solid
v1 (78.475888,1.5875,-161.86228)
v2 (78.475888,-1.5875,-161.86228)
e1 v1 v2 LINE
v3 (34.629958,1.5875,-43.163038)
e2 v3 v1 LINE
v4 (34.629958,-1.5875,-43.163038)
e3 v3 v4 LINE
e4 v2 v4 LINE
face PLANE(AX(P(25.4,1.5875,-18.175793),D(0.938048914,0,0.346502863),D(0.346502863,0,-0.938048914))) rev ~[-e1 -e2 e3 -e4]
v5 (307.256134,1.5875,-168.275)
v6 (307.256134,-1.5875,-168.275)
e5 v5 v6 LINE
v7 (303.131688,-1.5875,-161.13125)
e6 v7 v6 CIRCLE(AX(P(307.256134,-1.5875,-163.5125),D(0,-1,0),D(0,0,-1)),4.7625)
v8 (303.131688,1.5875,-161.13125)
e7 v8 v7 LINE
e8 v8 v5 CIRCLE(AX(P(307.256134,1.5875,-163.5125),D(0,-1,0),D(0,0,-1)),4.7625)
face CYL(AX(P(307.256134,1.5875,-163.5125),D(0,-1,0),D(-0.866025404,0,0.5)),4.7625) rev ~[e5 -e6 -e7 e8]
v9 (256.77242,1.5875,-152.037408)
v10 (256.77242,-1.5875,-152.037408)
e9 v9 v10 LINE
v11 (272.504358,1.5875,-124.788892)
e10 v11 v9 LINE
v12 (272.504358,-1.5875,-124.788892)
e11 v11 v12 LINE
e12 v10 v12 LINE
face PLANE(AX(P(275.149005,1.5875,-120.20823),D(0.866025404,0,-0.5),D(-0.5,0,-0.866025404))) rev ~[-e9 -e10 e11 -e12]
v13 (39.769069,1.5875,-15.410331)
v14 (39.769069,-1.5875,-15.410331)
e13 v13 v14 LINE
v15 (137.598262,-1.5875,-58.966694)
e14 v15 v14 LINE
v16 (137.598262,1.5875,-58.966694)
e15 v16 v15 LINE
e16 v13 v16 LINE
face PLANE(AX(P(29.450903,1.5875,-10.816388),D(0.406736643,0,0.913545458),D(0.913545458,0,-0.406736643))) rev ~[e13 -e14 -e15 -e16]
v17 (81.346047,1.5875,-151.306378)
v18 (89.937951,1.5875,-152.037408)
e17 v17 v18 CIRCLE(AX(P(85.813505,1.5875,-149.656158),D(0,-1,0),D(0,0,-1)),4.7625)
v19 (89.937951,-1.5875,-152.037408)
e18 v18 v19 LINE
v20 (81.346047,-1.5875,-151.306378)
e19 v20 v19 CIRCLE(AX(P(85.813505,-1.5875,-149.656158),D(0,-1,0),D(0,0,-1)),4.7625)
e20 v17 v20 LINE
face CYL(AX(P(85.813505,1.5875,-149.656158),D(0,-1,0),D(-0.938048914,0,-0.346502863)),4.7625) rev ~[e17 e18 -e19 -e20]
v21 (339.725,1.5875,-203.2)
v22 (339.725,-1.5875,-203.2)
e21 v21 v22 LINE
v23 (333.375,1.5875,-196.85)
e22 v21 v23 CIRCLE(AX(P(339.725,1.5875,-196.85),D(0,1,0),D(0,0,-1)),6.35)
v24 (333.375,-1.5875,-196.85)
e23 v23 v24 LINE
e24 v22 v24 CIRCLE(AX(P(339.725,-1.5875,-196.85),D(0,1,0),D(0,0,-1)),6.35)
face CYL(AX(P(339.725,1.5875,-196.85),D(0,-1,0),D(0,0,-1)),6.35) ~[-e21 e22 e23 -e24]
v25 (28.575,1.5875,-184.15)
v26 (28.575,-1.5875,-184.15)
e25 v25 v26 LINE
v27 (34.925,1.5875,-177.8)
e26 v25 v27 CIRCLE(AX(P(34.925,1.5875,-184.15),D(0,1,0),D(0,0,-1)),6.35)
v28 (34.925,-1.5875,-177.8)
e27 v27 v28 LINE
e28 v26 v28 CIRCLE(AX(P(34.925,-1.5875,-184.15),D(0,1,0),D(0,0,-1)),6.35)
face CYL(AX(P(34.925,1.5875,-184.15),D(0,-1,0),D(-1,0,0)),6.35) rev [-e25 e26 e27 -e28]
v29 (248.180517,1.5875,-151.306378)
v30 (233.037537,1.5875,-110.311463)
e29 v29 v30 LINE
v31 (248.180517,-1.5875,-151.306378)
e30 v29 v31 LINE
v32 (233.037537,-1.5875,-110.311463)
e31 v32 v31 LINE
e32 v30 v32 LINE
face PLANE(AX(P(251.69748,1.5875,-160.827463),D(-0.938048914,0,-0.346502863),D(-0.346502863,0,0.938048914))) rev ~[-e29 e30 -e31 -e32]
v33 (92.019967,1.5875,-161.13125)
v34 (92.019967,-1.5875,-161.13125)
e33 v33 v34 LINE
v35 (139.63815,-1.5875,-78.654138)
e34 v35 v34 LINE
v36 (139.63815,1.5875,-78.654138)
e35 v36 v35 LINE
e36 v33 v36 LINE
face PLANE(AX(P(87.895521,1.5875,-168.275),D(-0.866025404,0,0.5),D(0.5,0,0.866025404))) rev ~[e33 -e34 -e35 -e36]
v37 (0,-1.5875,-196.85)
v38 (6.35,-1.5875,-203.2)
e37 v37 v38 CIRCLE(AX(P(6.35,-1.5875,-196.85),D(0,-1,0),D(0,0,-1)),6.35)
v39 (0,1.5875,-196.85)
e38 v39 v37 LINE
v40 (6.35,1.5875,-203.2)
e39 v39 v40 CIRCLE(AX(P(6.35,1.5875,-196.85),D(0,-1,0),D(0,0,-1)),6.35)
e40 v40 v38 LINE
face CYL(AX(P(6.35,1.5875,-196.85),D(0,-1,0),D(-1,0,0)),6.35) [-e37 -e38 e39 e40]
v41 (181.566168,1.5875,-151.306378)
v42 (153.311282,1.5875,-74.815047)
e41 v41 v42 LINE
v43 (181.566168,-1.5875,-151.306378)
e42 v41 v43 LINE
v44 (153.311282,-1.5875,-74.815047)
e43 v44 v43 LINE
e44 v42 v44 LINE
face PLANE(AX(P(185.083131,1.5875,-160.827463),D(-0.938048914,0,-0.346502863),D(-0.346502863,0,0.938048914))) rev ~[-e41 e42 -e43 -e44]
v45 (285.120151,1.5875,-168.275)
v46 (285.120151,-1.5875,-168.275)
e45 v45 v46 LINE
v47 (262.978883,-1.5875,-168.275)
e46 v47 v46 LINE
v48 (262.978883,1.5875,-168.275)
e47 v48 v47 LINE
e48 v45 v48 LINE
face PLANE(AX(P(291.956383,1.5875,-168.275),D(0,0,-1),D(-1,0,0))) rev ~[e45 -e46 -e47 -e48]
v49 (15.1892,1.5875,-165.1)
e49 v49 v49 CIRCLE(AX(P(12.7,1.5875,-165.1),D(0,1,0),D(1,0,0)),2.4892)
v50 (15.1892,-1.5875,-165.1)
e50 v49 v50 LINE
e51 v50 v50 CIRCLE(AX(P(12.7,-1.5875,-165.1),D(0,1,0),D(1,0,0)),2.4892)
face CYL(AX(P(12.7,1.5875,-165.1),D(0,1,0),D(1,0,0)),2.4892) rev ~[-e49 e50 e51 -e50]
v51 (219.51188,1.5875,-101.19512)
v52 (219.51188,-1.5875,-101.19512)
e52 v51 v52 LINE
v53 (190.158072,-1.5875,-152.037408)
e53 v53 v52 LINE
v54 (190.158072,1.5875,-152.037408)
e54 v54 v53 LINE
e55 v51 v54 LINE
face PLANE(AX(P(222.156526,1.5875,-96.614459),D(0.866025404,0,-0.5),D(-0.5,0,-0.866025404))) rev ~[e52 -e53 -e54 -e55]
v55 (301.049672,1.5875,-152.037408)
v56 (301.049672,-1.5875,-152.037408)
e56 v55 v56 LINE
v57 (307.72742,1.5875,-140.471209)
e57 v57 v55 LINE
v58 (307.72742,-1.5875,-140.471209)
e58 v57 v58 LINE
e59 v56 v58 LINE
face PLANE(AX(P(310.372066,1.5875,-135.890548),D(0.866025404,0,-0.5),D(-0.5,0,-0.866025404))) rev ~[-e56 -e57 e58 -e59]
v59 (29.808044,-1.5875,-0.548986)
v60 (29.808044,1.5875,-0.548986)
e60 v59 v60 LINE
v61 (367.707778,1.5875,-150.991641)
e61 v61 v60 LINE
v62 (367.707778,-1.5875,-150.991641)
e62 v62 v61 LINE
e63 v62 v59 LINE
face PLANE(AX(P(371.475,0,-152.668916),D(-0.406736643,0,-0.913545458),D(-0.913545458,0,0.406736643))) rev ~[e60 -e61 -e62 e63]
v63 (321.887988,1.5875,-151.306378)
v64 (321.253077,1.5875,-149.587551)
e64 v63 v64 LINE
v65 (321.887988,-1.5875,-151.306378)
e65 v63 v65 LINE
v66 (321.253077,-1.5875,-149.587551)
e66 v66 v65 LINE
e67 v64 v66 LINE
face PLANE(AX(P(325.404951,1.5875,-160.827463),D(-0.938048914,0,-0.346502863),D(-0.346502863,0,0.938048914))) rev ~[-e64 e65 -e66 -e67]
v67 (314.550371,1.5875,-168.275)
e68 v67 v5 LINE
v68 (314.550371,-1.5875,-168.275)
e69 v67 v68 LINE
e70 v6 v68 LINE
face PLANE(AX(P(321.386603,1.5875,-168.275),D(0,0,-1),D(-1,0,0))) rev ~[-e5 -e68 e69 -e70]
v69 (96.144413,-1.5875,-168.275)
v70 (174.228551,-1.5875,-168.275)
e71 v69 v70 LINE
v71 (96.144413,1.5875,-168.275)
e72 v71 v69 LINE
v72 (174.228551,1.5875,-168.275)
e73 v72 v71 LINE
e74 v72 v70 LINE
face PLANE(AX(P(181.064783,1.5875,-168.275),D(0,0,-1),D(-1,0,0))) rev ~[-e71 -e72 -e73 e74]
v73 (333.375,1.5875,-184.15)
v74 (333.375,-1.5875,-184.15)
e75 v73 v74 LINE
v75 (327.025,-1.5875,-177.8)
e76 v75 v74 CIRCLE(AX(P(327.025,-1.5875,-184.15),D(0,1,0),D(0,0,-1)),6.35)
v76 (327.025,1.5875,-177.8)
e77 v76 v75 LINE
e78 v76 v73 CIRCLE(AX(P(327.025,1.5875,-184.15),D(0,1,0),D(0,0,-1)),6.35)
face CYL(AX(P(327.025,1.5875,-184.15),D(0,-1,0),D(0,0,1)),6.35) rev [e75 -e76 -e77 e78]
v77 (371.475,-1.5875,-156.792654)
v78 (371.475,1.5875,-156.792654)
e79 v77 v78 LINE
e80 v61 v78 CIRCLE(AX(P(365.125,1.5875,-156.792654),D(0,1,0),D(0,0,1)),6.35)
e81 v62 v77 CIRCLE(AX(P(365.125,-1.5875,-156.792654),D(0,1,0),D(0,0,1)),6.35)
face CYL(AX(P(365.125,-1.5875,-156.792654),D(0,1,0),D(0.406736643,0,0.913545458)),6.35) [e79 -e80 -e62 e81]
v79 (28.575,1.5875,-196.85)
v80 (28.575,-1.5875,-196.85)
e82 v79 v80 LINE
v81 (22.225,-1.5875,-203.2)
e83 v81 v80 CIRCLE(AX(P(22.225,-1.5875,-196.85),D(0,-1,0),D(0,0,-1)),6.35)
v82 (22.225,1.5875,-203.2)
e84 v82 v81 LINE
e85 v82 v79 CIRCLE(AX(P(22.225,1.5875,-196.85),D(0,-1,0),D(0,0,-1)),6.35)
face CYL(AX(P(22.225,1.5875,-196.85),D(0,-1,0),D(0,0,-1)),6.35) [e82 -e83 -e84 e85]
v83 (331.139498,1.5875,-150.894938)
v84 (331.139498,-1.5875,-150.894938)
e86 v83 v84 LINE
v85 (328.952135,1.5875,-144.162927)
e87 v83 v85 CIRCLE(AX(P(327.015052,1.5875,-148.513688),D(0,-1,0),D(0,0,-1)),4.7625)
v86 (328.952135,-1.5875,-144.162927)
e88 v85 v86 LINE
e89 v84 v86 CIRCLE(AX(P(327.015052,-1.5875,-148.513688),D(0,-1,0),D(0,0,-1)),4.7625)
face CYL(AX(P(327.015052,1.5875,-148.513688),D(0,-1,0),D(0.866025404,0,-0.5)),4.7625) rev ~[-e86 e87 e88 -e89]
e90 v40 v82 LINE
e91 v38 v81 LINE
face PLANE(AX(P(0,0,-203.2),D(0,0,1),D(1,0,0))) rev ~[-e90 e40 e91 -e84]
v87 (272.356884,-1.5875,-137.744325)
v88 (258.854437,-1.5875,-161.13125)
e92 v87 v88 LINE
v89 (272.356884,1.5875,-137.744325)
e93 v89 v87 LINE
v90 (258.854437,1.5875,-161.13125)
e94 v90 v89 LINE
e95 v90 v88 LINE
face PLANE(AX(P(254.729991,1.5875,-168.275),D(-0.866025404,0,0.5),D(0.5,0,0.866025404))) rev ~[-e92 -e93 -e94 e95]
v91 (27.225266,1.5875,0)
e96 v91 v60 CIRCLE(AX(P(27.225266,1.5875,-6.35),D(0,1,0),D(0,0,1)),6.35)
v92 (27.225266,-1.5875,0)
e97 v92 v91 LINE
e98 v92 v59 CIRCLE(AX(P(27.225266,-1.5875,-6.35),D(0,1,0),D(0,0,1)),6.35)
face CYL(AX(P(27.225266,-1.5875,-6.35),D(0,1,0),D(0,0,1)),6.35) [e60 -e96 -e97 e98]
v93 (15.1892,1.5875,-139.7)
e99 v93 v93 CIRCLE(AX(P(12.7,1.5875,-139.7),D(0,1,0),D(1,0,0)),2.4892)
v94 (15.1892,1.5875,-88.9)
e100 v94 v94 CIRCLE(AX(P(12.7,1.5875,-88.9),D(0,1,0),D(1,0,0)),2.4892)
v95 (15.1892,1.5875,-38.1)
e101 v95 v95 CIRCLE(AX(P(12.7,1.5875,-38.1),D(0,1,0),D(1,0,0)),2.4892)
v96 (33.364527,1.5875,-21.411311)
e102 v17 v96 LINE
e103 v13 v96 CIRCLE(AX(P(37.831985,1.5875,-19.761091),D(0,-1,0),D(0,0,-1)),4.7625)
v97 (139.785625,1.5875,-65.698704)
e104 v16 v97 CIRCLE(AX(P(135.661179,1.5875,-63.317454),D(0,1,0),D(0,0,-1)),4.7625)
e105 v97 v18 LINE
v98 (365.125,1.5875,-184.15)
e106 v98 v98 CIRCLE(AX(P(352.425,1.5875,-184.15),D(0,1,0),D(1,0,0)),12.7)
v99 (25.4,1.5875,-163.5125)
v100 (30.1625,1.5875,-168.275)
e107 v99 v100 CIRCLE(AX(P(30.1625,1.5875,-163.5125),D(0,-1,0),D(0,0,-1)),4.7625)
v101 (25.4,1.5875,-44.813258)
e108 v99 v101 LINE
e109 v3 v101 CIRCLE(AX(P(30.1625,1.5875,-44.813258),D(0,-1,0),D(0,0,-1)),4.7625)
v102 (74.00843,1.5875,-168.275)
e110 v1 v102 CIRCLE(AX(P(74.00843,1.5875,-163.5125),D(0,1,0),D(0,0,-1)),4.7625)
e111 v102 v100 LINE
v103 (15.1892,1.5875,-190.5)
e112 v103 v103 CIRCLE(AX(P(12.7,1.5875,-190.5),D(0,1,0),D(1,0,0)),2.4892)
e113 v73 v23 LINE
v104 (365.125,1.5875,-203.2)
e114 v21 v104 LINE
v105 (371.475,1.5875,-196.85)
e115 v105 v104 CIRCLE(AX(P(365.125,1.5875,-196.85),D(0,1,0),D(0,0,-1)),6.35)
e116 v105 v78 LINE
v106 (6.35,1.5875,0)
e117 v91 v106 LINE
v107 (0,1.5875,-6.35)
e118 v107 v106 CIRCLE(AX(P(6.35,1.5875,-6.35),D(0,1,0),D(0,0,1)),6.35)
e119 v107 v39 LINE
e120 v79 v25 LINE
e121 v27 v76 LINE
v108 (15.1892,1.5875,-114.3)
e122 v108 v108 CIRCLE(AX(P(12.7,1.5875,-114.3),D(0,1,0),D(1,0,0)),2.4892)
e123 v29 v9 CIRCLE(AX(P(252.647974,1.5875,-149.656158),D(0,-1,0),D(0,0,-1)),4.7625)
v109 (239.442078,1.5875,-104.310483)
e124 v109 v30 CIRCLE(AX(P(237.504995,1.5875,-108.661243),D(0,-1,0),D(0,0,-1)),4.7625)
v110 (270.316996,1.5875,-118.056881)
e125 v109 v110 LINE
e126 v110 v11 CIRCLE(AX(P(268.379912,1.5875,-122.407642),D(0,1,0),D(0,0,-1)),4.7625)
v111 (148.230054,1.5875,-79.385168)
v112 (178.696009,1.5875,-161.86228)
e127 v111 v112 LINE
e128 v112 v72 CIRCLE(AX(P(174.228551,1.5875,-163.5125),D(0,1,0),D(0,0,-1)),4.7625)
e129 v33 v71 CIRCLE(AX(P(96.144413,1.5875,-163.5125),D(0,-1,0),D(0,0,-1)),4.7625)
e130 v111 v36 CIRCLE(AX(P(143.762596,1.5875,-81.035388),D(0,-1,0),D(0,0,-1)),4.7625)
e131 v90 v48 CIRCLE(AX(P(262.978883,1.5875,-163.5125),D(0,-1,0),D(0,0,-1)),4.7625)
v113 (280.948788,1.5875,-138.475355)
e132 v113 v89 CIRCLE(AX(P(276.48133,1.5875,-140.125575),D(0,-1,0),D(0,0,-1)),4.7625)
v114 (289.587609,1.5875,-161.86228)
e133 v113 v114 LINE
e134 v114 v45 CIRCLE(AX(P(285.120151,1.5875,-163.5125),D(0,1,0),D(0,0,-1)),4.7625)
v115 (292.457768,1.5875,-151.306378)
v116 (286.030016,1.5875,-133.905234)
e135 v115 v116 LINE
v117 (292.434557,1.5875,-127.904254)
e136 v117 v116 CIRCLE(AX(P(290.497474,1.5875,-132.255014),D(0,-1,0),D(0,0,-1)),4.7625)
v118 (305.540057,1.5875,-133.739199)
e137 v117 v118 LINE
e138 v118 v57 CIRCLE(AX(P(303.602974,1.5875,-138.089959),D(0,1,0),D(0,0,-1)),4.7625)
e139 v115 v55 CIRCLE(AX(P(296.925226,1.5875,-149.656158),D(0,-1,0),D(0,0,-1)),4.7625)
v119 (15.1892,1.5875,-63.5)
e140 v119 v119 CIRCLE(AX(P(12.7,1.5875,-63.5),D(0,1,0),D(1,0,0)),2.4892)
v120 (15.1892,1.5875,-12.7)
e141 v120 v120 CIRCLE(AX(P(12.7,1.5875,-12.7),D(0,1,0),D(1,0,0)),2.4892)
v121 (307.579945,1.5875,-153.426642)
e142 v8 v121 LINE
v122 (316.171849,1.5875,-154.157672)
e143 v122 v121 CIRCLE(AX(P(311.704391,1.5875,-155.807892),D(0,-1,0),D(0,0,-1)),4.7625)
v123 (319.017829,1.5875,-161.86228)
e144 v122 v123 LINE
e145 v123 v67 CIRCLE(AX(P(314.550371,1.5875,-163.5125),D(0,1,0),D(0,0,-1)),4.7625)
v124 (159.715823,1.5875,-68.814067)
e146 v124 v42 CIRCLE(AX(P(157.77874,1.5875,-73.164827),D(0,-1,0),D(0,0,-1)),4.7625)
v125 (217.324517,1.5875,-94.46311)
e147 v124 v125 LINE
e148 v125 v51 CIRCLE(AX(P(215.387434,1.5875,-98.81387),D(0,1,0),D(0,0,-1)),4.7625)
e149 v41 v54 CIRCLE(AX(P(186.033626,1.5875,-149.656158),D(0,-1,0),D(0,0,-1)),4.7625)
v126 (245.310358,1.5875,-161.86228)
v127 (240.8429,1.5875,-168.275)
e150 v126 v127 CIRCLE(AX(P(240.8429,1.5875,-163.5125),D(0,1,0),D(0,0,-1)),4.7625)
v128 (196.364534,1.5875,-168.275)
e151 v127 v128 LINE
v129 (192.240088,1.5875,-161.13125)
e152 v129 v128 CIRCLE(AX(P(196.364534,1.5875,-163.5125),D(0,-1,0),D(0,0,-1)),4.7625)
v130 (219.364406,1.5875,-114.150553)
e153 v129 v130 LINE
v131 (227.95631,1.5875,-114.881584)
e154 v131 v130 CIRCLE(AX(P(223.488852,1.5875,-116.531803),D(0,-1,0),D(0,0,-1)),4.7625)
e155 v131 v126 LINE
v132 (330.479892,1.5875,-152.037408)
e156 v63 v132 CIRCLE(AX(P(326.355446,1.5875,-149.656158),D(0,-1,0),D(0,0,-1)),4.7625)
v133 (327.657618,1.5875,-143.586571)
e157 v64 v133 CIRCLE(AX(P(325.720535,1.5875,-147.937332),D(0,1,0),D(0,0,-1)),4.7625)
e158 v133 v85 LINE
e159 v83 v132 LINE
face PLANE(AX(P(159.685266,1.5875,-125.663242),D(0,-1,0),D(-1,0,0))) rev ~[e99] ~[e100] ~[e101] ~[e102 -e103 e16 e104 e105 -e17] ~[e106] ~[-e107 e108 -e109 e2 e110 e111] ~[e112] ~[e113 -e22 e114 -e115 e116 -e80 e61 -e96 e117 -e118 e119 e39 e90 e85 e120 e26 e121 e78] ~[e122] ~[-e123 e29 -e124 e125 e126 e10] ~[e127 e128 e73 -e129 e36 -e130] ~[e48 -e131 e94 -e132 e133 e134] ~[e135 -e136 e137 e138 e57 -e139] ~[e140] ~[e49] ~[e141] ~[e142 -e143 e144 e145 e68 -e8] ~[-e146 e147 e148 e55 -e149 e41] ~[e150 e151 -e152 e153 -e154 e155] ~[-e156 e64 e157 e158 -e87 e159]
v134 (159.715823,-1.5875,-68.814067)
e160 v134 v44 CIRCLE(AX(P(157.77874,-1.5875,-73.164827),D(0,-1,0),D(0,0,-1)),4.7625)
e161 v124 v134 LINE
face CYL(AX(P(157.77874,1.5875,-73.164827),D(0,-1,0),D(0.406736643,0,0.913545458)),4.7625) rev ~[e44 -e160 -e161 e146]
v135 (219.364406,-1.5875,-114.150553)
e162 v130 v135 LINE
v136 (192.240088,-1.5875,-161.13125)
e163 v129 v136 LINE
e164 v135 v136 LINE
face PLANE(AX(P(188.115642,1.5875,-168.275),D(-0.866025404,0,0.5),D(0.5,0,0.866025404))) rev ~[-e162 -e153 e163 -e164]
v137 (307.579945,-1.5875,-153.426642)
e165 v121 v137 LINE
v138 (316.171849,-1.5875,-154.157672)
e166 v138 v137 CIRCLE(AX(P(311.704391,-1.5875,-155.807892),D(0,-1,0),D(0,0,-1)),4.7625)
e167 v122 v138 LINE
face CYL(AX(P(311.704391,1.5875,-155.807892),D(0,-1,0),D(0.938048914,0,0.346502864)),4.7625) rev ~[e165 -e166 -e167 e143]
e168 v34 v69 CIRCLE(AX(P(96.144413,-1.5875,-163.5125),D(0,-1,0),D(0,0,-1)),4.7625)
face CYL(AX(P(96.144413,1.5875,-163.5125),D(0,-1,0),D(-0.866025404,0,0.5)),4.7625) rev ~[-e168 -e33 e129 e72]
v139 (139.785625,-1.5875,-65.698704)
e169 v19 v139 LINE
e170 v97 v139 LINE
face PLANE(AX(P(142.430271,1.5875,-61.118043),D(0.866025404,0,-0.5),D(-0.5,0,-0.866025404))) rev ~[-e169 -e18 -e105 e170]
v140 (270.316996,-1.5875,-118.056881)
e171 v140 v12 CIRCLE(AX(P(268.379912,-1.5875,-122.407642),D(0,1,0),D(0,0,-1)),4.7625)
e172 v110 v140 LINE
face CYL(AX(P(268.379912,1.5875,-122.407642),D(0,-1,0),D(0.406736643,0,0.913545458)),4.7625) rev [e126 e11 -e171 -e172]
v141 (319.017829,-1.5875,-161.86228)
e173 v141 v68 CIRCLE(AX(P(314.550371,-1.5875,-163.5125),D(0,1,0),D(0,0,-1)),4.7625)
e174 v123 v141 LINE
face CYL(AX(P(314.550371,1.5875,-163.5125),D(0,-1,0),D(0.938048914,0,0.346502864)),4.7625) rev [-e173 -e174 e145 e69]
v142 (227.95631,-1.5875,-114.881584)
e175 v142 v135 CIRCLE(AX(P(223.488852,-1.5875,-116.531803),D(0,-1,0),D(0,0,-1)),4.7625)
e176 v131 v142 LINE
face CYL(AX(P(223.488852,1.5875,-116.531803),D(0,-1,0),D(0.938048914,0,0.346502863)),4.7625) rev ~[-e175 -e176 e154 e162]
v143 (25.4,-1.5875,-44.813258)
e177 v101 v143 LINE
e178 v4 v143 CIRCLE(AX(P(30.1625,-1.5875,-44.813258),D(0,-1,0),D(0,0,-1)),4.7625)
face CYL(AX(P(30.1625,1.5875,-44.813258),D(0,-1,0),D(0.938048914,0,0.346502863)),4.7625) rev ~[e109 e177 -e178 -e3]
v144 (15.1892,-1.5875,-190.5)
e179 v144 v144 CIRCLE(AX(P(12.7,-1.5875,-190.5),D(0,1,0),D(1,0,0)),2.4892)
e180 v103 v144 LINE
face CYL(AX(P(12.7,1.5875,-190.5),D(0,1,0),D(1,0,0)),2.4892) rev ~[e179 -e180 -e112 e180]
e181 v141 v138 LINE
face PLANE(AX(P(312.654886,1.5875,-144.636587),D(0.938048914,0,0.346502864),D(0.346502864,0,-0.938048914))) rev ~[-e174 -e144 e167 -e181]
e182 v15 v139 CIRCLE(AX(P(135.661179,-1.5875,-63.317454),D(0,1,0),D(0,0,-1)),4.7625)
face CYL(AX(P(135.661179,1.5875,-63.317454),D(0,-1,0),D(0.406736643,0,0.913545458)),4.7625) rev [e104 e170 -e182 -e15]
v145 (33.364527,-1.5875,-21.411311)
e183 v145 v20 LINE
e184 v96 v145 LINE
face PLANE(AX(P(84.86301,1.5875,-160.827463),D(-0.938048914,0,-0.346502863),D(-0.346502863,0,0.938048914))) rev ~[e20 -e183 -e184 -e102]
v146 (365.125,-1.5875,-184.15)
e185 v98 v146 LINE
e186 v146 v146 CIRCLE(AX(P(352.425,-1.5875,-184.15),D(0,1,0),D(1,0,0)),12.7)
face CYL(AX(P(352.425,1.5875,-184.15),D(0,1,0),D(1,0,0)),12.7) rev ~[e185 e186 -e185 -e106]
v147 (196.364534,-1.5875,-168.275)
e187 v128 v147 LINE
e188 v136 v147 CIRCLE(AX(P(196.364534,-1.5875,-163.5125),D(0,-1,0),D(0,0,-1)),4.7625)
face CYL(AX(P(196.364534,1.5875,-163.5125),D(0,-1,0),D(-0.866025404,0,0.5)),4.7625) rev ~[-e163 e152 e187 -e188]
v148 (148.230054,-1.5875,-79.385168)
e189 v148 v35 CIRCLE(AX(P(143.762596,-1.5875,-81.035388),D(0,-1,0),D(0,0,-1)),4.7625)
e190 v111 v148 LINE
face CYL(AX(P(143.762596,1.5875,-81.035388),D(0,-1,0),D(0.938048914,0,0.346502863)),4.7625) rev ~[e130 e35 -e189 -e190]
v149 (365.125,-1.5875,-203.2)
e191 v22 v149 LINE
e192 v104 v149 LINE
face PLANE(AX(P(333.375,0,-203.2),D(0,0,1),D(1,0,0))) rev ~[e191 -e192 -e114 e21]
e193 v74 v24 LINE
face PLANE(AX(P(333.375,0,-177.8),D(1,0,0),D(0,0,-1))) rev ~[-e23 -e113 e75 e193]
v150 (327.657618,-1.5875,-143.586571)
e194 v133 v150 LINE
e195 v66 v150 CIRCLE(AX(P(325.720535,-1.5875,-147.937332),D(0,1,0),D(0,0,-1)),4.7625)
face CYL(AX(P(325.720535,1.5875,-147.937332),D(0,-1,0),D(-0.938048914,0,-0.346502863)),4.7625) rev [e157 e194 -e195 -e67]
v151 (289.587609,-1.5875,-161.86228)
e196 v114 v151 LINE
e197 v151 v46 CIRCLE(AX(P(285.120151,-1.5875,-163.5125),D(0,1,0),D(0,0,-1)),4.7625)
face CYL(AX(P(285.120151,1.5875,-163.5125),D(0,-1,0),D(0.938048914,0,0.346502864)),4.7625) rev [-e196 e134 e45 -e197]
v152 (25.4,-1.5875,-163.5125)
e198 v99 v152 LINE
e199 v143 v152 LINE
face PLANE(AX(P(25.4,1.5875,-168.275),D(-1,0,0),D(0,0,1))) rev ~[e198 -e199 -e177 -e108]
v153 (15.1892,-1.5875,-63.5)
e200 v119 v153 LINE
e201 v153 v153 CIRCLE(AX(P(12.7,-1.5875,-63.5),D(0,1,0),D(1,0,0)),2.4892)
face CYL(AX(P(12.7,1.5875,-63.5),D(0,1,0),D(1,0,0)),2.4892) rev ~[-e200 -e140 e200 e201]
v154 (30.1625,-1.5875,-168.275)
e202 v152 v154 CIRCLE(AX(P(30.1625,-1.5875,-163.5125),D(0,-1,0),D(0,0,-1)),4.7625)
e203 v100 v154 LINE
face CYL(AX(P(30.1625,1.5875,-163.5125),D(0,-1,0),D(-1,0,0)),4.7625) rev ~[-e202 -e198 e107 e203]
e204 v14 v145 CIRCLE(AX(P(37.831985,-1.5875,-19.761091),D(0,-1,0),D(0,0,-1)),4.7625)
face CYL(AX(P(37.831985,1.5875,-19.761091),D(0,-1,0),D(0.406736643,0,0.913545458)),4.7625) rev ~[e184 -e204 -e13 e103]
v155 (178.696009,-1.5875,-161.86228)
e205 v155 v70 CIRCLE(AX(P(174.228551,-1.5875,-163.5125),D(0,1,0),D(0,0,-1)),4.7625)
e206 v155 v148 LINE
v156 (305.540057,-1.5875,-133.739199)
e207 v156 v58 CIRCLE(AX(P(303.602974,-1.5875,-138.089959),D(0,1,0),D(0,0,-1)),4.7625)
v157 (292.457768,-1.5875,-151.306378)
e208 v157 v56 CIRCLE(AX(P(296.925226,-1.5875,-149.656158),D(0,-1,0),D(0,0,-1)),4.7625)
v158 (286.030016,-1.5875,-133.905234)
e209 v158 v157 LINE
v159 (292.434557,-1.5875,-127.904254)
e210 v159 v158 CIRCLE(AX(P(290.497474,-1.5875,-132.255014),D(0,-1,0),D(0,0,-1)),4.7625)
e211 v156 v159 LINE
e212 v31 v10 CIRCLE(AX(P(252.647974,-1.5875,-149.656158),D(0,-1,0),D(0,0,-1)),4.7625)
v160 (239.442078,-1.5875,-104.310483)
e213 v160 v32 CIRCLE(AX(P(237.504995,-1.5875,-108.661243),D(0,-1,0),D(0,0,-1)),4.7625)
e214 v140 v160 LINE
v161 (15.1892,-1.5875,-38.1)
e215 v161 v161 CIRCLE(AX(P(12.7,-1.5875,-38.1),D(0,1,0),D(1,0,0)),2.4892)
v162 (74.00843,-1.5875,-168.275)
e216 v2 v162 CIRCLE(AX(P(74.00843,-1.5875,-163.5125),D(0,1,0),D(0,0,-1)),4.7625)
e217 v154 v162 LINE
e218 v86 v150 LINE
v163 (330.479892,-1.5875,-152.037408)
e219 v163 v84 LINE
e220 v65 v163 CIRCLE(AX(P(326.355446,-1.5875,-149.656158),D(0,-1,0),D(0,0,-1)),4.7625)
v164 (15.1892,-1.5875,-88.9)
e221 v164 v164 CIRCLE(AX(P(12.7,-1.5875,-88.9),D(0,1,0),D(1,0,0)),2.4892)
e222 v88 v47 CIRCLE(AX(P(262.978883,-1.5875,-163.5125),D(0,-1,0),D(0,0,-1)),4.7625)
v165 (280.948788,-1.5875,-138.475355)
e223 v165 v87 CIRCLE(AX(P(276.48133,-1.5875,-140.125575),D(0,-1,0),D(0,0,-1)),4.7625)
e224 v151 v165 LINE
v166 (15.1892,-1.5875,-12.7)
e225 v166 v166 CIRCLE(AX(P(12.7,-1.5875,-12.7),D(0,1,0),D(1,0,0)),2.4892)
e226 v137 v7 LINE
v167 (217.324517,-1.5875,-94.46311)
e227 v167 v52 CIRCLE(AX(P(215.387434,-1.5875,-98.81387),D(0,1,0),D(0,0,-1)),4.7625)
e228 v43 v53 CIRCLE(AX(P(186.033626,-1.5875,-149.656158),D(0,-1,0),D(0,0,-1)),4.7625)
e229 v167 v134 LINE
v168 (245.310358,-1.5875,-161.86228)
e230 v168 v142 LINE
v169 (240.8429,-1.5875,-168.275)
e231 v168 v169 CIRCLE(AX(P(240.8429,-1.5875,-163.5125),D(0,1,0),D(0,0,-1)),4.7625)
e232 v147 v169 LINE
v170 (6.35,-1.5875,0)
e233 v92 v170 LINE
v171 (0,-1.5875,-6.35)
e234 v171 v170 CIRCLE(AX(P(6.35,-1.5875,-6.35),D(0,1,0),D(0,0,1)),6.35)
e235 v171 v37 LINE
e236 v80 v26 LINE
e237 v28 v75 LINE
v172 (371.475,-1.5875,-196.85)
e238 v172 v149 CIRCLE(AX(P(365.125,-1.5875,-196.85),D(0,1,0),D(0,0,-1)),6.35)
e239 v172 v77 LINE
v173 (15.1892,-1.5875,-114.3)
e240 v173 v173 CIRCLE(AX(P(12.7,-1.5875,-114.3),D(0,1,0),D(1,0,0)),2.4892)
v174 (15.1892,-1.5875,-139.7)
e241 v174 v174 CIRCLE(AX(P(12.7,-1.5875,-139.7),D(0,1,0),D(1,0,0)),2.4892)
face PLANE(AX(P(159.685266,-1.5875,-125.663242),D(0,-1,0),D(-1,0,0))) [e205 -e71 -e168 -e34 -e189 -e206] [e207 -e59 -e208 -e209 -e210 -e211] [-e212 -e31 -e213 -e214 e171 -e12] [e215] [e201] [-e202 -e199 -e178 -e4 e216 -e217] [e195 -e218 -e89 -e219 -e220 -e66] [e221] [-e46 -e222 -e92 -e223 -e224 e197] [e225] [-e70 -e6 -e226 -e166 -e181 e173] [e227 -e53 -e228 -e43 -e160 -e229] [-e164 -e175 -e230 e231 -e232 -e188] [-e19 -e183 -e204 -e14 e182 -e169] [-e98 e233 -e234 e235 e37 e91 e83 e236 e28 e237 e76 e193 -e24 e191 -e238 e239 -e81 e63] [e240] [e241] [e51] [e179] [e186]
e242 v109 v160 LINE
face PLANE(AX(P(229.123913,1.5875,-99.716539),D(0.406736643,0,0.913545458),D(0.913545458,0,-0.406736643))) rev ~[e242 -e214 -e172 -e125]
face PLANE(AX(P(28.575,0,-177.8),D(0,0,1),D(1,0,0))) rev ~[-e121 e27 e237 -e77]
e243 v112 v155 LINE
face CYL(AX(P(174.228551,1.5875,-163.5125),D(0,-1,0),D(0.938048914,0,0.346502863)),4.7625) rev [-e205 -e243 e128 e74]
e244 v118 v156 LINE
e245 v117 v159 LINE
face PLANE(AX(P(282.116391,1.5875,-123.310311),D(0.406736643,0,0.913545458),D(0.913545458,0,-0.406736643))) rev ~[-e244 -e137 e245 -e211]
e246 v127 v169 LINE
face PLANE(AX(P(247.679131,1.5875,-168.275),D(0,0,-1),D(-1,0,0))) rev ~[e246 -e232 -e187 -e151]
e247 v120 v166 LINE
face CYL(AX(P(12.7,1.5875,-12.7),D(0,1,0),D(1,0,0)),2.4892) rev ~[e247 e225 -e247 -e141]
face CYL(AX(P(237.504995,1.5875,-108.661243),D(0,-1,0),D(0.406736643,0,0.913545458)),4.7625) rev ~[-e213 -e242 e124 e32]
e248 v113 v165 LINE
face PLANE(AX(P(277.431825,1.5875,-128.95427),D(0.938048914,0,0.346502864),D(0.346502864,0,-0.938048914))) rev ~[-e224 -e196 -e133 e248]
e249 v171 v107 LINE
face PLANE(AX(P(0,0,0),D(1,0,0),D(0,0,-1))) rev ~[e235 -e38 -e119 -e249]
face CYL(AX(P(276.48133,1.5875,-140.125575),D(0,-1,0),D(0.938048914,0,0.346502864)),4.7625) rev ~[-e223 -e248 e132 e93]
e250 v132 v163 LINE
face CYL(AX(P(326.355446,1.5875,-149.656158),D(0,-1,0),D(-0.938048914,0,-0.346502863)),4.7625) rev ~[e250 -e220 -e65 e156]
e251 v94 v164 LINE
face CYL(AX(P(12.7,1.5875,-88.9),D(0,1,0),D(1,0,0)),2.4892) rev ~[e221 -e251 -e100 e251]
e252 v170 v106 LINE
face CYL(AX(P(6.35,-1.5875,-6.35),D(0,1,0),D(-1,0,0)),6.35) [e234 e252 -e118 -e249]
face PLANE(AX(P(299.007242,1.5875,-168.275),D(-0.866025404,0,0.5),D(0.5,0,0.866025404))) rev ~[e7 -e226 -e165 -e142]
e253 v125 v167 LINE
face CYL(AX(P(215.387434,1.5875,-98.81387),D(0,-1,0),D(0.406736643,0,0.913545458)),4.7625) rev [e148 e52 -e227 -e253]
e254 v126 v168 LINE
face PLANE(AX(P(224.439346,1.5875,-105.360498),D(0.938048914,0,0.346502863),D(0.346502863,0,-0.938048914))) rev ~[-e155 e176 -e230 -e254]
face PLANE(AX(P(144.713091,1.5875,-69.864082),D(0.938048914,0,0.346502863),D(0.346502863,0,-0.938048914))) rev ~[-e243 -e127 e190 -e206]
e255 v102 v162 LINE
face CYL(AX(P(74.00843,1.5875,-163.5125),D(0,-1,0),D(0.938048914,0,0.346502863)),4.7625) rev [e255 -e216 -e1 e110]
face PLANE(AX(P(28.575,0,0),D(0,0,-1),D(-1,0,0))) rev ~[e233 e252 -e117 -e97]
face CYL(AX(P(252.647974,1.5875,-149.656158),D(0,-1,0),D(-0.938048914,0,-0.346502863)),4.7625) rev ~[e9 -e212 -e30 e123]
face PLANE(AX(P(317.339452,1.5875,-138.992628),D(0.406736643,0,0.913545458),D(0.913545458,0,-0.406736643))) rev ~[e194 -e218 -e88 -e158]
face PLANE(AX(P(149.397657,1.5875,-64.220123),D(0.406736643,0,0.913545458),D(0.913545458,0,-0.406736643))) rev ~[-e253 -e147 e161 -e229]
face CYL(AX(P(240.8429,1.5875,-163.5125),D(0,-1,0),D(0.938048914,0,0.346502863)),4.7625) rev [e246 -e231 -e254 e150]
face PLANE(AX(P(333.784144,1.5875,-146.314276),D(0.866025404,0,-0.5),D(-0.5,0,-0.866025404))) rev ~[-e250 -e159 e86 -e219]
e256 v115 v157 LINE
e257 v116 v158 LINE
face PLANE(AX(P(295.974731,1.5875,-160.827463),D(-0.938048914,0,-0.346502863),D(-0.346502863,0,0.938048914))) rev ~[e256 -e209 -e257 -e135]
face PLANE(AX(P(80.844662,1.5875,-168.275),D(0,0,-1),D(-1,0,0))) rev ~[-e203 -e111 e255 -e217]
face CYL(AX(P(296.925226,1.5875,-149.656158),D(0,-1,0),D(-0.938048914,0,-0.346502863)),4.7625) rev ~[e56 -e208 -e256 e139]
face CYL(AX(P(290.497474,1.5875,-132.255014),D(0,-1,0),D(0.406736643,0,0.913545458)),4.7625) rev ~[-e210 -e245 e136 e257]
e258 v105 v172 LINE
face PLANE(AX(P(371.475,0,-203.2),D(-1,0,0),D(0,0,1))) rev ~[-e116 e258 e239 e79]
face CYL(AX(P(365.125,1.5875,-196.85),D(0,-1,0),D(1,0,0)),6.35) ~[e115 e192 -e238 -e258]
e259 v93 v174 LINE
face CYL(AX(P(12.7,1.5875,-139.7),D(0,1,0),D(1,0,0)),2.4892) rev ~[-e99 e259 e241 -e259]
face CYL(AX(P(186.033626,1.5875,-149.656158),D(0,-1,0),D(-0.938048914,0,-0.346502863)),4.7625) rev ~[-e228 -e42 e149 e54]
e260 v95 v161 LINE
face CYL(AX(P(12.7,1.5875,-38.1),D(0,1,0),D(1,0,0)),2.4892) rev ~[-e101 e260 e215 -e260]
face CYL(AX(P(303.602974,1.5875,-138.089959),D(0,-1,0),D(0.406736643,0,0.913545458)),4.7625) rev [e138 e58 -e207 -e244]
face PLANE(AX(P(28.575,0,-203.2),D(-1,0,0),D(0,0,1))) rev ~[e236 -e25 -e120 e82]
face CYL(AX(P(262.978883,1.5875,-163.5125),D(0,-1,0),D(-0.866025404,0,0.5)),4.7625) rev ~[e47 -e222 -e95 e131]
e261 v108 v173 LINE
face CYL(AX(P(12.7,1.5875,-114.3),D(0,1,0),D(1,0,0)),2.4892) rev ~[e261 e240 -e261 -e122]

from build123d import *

# Parameters (mm, degrees)
BOSS_EXTRUDE1_DEPTH = 1.5875
SKETCH2_R           = 2.4892
SKETCH2_R_2         = 12.7
CUT_EXTRUDE1_DEPTH  = 4.175
FILLET1_R           = 6.35
CUT_EXTRUDE2_DEPTH  = 4.175
FILLET2_R           = 4.7625


with BuildPart() as part:
    # Sketch1 → Boss-Extrude1 (new body, symmetric)
    with BuildSketch(Plane(origin=(0, 0, 0), x_dir=(1, 0, 0), z_dir=(0, 1, 0))):
        Polygon((0, 0), (0, 203.2), (28.575, 203.2), (28.575, 177.8), (333.375, 177.8), (333.375, 203.2), (371.475, 203.2), (371.475, 152.668916192), (28.575, 0), align=None)
    extrude(amount=BOSS_EXTRUDE1_DEPTH, both=True)

    # Sketch2 → Cut-Extrude1 (cut, through all)
    with BuildSketch(Plane(origin=(0, 1.5875, 0), x_dir=(1, 0, 0), z_dir=(0, 1, 0))):
        with Locations((12.7, 190.5)):
            Circle(SKETCH2_R)
        with Locations((12.7, 165.1)):
            Circle(SKETCH2_R)
        with Locations((12.7, 139.7)):
            Circle(SKETCH2_R)
        with Locations((12.7, 114.3)):
            Circle(SKETCH2_R)
        with Locations((12.7, 88.9)):
            Circle(SKETCH2_R)
        with Locations((12.7, 63.5)):
            Circle(SKETCH2_R)
        with Locations((12.7, 38.1)):
            Circle(SKETCH2_R)
        with Locations((12.7, 12.7)):
            Circle(SKETCH2_R)
        with Locations((352.425, 184.15)):
            Circle(SKETCH2_R_2)
    extrude(amount=-CUT_EXTRUDE1_DEPTH, mode=Mode.SUBTRACT)

    # Fillet1
    fillet1_edges = [part.edges().sort_by_distance(p)[0] for p in [
        (0, 0, 0),
        (0, 0, -203.2),
        (28.575, 0, -203.2),
        (28.575, 0, -177.8),
        (333.375, 0, -177.8),
        (333.375, 0, -203.2),
        (371.475, 0, -203.2),
        (371.475, 0, -152.668916192),
        (28.575, 0, 0),
    ]]
    fillet(fillet1_edges, radius=FILLET1_R)

    # Sketch3 → Cut-Extrude2 (cut, through all)
    with BuildSketch(Plane(origin=(0, 1.5875, 0), x_dir=(1, 0, 0), z_dir=(0, 1, 0))):
        Polygon((29.450902816, 10.816387612), (142.430270713, 61.118043048), (84.86301023, 160.827463057), align=None)
        Polygon((25.4, 18.175792916), (80.844662076, 168.275), (25.4, 168.275), align=None)
        Polygon((144.713091094, 69.864082163), (181.064782686, 168.275), (87.89552119, 168.275), align=None)
        Polygon((149.39765716, 64.220123355), (222.156526072, 96.614458906), (185.08313084, 160.827463057), align=None)
        Polygon((224.439346453, 105.360498021), (247.679131457, 168.275), (188.1156418, 168.275), align=None)
        Polygon((229.123912518, 99.716539213), (275.149004512, 120.208230413), (251.697479611, 160.827463057), align=None)
        Polygon((277.431824893, 128.954269529), (291.956382724, 168.275), (254.729990571, 168.275), align=None)
        Polygon((282.116390959, 123.310310721), (310.372065706, 135.890547641), (295.974730878, 160.827463057), align=None)
        Polygon((312.654886087, 144.636586756), (321.386603328, 168.275), (299.007241838, 168.275), align=None)
        Polygon((325.404951482, 160.827463057), (317.339452153, 138.992627948), (333.784143729, 146.314276359), align=None)
    extrude(amount=-CUT_EXTRUDE2_DEPTH, mode=Mode.SUBTRACT)

    # Fillet2
    fillet2_edges = [part.edges().sort_by_distance(p)[0] for p in [
        (277.431824893, 0, -128.954269529),
        (254.729990571, 0, -168.275),
        (291.956382724, 0, -168.275),
        (229.123912518, 0, -99.716539213),
        (251.697479611, 0, -160.827463057),
        (275.149004512, 0, -120.208230413),
        (312.654886087, 0, -144.636586756),
        (299.007241838, 0, -168.275),
        (321.386603328, 0, -168.275),
        (282.116390959, 0, -123.310310721),
        (295.974730878, 0, -160.827463057),
        (310.372065706, 0, -135.890547641),
        (25.4, 0, -18.175792916),
        (25.4, 0, -168.275),
        (80.844662076, 0, -168.275),
        (144.713091094, 0, -69.864082163),
        (87.89552119, 0, -168.275),
        (181.064782686, 0, -168.275),
        (224.439346453, 0, -105.360498021),
        (188.1156418, 0, -168.275),
        (247.679131457, 0, -168.275),
        (149.39765716, 0, -64.220123355),
        (185.08313084, 0, -160.827463057),
        (222.156526072, 0, -96.614458906),
        (325.404951482, 0, -160.827463057),
        (333.784143729, 0, -146.314276359),
        (317.339452153, 0, -138.992627948),
        (29.450902816, 0, -10.816387612),
        (84.86301023, 0, -160.827463057),
        (142.430270713, 0, -61.118043048),
    ]]
    fillet(fillet2_edges, radius=FILLET2_R)


solid = part.part
